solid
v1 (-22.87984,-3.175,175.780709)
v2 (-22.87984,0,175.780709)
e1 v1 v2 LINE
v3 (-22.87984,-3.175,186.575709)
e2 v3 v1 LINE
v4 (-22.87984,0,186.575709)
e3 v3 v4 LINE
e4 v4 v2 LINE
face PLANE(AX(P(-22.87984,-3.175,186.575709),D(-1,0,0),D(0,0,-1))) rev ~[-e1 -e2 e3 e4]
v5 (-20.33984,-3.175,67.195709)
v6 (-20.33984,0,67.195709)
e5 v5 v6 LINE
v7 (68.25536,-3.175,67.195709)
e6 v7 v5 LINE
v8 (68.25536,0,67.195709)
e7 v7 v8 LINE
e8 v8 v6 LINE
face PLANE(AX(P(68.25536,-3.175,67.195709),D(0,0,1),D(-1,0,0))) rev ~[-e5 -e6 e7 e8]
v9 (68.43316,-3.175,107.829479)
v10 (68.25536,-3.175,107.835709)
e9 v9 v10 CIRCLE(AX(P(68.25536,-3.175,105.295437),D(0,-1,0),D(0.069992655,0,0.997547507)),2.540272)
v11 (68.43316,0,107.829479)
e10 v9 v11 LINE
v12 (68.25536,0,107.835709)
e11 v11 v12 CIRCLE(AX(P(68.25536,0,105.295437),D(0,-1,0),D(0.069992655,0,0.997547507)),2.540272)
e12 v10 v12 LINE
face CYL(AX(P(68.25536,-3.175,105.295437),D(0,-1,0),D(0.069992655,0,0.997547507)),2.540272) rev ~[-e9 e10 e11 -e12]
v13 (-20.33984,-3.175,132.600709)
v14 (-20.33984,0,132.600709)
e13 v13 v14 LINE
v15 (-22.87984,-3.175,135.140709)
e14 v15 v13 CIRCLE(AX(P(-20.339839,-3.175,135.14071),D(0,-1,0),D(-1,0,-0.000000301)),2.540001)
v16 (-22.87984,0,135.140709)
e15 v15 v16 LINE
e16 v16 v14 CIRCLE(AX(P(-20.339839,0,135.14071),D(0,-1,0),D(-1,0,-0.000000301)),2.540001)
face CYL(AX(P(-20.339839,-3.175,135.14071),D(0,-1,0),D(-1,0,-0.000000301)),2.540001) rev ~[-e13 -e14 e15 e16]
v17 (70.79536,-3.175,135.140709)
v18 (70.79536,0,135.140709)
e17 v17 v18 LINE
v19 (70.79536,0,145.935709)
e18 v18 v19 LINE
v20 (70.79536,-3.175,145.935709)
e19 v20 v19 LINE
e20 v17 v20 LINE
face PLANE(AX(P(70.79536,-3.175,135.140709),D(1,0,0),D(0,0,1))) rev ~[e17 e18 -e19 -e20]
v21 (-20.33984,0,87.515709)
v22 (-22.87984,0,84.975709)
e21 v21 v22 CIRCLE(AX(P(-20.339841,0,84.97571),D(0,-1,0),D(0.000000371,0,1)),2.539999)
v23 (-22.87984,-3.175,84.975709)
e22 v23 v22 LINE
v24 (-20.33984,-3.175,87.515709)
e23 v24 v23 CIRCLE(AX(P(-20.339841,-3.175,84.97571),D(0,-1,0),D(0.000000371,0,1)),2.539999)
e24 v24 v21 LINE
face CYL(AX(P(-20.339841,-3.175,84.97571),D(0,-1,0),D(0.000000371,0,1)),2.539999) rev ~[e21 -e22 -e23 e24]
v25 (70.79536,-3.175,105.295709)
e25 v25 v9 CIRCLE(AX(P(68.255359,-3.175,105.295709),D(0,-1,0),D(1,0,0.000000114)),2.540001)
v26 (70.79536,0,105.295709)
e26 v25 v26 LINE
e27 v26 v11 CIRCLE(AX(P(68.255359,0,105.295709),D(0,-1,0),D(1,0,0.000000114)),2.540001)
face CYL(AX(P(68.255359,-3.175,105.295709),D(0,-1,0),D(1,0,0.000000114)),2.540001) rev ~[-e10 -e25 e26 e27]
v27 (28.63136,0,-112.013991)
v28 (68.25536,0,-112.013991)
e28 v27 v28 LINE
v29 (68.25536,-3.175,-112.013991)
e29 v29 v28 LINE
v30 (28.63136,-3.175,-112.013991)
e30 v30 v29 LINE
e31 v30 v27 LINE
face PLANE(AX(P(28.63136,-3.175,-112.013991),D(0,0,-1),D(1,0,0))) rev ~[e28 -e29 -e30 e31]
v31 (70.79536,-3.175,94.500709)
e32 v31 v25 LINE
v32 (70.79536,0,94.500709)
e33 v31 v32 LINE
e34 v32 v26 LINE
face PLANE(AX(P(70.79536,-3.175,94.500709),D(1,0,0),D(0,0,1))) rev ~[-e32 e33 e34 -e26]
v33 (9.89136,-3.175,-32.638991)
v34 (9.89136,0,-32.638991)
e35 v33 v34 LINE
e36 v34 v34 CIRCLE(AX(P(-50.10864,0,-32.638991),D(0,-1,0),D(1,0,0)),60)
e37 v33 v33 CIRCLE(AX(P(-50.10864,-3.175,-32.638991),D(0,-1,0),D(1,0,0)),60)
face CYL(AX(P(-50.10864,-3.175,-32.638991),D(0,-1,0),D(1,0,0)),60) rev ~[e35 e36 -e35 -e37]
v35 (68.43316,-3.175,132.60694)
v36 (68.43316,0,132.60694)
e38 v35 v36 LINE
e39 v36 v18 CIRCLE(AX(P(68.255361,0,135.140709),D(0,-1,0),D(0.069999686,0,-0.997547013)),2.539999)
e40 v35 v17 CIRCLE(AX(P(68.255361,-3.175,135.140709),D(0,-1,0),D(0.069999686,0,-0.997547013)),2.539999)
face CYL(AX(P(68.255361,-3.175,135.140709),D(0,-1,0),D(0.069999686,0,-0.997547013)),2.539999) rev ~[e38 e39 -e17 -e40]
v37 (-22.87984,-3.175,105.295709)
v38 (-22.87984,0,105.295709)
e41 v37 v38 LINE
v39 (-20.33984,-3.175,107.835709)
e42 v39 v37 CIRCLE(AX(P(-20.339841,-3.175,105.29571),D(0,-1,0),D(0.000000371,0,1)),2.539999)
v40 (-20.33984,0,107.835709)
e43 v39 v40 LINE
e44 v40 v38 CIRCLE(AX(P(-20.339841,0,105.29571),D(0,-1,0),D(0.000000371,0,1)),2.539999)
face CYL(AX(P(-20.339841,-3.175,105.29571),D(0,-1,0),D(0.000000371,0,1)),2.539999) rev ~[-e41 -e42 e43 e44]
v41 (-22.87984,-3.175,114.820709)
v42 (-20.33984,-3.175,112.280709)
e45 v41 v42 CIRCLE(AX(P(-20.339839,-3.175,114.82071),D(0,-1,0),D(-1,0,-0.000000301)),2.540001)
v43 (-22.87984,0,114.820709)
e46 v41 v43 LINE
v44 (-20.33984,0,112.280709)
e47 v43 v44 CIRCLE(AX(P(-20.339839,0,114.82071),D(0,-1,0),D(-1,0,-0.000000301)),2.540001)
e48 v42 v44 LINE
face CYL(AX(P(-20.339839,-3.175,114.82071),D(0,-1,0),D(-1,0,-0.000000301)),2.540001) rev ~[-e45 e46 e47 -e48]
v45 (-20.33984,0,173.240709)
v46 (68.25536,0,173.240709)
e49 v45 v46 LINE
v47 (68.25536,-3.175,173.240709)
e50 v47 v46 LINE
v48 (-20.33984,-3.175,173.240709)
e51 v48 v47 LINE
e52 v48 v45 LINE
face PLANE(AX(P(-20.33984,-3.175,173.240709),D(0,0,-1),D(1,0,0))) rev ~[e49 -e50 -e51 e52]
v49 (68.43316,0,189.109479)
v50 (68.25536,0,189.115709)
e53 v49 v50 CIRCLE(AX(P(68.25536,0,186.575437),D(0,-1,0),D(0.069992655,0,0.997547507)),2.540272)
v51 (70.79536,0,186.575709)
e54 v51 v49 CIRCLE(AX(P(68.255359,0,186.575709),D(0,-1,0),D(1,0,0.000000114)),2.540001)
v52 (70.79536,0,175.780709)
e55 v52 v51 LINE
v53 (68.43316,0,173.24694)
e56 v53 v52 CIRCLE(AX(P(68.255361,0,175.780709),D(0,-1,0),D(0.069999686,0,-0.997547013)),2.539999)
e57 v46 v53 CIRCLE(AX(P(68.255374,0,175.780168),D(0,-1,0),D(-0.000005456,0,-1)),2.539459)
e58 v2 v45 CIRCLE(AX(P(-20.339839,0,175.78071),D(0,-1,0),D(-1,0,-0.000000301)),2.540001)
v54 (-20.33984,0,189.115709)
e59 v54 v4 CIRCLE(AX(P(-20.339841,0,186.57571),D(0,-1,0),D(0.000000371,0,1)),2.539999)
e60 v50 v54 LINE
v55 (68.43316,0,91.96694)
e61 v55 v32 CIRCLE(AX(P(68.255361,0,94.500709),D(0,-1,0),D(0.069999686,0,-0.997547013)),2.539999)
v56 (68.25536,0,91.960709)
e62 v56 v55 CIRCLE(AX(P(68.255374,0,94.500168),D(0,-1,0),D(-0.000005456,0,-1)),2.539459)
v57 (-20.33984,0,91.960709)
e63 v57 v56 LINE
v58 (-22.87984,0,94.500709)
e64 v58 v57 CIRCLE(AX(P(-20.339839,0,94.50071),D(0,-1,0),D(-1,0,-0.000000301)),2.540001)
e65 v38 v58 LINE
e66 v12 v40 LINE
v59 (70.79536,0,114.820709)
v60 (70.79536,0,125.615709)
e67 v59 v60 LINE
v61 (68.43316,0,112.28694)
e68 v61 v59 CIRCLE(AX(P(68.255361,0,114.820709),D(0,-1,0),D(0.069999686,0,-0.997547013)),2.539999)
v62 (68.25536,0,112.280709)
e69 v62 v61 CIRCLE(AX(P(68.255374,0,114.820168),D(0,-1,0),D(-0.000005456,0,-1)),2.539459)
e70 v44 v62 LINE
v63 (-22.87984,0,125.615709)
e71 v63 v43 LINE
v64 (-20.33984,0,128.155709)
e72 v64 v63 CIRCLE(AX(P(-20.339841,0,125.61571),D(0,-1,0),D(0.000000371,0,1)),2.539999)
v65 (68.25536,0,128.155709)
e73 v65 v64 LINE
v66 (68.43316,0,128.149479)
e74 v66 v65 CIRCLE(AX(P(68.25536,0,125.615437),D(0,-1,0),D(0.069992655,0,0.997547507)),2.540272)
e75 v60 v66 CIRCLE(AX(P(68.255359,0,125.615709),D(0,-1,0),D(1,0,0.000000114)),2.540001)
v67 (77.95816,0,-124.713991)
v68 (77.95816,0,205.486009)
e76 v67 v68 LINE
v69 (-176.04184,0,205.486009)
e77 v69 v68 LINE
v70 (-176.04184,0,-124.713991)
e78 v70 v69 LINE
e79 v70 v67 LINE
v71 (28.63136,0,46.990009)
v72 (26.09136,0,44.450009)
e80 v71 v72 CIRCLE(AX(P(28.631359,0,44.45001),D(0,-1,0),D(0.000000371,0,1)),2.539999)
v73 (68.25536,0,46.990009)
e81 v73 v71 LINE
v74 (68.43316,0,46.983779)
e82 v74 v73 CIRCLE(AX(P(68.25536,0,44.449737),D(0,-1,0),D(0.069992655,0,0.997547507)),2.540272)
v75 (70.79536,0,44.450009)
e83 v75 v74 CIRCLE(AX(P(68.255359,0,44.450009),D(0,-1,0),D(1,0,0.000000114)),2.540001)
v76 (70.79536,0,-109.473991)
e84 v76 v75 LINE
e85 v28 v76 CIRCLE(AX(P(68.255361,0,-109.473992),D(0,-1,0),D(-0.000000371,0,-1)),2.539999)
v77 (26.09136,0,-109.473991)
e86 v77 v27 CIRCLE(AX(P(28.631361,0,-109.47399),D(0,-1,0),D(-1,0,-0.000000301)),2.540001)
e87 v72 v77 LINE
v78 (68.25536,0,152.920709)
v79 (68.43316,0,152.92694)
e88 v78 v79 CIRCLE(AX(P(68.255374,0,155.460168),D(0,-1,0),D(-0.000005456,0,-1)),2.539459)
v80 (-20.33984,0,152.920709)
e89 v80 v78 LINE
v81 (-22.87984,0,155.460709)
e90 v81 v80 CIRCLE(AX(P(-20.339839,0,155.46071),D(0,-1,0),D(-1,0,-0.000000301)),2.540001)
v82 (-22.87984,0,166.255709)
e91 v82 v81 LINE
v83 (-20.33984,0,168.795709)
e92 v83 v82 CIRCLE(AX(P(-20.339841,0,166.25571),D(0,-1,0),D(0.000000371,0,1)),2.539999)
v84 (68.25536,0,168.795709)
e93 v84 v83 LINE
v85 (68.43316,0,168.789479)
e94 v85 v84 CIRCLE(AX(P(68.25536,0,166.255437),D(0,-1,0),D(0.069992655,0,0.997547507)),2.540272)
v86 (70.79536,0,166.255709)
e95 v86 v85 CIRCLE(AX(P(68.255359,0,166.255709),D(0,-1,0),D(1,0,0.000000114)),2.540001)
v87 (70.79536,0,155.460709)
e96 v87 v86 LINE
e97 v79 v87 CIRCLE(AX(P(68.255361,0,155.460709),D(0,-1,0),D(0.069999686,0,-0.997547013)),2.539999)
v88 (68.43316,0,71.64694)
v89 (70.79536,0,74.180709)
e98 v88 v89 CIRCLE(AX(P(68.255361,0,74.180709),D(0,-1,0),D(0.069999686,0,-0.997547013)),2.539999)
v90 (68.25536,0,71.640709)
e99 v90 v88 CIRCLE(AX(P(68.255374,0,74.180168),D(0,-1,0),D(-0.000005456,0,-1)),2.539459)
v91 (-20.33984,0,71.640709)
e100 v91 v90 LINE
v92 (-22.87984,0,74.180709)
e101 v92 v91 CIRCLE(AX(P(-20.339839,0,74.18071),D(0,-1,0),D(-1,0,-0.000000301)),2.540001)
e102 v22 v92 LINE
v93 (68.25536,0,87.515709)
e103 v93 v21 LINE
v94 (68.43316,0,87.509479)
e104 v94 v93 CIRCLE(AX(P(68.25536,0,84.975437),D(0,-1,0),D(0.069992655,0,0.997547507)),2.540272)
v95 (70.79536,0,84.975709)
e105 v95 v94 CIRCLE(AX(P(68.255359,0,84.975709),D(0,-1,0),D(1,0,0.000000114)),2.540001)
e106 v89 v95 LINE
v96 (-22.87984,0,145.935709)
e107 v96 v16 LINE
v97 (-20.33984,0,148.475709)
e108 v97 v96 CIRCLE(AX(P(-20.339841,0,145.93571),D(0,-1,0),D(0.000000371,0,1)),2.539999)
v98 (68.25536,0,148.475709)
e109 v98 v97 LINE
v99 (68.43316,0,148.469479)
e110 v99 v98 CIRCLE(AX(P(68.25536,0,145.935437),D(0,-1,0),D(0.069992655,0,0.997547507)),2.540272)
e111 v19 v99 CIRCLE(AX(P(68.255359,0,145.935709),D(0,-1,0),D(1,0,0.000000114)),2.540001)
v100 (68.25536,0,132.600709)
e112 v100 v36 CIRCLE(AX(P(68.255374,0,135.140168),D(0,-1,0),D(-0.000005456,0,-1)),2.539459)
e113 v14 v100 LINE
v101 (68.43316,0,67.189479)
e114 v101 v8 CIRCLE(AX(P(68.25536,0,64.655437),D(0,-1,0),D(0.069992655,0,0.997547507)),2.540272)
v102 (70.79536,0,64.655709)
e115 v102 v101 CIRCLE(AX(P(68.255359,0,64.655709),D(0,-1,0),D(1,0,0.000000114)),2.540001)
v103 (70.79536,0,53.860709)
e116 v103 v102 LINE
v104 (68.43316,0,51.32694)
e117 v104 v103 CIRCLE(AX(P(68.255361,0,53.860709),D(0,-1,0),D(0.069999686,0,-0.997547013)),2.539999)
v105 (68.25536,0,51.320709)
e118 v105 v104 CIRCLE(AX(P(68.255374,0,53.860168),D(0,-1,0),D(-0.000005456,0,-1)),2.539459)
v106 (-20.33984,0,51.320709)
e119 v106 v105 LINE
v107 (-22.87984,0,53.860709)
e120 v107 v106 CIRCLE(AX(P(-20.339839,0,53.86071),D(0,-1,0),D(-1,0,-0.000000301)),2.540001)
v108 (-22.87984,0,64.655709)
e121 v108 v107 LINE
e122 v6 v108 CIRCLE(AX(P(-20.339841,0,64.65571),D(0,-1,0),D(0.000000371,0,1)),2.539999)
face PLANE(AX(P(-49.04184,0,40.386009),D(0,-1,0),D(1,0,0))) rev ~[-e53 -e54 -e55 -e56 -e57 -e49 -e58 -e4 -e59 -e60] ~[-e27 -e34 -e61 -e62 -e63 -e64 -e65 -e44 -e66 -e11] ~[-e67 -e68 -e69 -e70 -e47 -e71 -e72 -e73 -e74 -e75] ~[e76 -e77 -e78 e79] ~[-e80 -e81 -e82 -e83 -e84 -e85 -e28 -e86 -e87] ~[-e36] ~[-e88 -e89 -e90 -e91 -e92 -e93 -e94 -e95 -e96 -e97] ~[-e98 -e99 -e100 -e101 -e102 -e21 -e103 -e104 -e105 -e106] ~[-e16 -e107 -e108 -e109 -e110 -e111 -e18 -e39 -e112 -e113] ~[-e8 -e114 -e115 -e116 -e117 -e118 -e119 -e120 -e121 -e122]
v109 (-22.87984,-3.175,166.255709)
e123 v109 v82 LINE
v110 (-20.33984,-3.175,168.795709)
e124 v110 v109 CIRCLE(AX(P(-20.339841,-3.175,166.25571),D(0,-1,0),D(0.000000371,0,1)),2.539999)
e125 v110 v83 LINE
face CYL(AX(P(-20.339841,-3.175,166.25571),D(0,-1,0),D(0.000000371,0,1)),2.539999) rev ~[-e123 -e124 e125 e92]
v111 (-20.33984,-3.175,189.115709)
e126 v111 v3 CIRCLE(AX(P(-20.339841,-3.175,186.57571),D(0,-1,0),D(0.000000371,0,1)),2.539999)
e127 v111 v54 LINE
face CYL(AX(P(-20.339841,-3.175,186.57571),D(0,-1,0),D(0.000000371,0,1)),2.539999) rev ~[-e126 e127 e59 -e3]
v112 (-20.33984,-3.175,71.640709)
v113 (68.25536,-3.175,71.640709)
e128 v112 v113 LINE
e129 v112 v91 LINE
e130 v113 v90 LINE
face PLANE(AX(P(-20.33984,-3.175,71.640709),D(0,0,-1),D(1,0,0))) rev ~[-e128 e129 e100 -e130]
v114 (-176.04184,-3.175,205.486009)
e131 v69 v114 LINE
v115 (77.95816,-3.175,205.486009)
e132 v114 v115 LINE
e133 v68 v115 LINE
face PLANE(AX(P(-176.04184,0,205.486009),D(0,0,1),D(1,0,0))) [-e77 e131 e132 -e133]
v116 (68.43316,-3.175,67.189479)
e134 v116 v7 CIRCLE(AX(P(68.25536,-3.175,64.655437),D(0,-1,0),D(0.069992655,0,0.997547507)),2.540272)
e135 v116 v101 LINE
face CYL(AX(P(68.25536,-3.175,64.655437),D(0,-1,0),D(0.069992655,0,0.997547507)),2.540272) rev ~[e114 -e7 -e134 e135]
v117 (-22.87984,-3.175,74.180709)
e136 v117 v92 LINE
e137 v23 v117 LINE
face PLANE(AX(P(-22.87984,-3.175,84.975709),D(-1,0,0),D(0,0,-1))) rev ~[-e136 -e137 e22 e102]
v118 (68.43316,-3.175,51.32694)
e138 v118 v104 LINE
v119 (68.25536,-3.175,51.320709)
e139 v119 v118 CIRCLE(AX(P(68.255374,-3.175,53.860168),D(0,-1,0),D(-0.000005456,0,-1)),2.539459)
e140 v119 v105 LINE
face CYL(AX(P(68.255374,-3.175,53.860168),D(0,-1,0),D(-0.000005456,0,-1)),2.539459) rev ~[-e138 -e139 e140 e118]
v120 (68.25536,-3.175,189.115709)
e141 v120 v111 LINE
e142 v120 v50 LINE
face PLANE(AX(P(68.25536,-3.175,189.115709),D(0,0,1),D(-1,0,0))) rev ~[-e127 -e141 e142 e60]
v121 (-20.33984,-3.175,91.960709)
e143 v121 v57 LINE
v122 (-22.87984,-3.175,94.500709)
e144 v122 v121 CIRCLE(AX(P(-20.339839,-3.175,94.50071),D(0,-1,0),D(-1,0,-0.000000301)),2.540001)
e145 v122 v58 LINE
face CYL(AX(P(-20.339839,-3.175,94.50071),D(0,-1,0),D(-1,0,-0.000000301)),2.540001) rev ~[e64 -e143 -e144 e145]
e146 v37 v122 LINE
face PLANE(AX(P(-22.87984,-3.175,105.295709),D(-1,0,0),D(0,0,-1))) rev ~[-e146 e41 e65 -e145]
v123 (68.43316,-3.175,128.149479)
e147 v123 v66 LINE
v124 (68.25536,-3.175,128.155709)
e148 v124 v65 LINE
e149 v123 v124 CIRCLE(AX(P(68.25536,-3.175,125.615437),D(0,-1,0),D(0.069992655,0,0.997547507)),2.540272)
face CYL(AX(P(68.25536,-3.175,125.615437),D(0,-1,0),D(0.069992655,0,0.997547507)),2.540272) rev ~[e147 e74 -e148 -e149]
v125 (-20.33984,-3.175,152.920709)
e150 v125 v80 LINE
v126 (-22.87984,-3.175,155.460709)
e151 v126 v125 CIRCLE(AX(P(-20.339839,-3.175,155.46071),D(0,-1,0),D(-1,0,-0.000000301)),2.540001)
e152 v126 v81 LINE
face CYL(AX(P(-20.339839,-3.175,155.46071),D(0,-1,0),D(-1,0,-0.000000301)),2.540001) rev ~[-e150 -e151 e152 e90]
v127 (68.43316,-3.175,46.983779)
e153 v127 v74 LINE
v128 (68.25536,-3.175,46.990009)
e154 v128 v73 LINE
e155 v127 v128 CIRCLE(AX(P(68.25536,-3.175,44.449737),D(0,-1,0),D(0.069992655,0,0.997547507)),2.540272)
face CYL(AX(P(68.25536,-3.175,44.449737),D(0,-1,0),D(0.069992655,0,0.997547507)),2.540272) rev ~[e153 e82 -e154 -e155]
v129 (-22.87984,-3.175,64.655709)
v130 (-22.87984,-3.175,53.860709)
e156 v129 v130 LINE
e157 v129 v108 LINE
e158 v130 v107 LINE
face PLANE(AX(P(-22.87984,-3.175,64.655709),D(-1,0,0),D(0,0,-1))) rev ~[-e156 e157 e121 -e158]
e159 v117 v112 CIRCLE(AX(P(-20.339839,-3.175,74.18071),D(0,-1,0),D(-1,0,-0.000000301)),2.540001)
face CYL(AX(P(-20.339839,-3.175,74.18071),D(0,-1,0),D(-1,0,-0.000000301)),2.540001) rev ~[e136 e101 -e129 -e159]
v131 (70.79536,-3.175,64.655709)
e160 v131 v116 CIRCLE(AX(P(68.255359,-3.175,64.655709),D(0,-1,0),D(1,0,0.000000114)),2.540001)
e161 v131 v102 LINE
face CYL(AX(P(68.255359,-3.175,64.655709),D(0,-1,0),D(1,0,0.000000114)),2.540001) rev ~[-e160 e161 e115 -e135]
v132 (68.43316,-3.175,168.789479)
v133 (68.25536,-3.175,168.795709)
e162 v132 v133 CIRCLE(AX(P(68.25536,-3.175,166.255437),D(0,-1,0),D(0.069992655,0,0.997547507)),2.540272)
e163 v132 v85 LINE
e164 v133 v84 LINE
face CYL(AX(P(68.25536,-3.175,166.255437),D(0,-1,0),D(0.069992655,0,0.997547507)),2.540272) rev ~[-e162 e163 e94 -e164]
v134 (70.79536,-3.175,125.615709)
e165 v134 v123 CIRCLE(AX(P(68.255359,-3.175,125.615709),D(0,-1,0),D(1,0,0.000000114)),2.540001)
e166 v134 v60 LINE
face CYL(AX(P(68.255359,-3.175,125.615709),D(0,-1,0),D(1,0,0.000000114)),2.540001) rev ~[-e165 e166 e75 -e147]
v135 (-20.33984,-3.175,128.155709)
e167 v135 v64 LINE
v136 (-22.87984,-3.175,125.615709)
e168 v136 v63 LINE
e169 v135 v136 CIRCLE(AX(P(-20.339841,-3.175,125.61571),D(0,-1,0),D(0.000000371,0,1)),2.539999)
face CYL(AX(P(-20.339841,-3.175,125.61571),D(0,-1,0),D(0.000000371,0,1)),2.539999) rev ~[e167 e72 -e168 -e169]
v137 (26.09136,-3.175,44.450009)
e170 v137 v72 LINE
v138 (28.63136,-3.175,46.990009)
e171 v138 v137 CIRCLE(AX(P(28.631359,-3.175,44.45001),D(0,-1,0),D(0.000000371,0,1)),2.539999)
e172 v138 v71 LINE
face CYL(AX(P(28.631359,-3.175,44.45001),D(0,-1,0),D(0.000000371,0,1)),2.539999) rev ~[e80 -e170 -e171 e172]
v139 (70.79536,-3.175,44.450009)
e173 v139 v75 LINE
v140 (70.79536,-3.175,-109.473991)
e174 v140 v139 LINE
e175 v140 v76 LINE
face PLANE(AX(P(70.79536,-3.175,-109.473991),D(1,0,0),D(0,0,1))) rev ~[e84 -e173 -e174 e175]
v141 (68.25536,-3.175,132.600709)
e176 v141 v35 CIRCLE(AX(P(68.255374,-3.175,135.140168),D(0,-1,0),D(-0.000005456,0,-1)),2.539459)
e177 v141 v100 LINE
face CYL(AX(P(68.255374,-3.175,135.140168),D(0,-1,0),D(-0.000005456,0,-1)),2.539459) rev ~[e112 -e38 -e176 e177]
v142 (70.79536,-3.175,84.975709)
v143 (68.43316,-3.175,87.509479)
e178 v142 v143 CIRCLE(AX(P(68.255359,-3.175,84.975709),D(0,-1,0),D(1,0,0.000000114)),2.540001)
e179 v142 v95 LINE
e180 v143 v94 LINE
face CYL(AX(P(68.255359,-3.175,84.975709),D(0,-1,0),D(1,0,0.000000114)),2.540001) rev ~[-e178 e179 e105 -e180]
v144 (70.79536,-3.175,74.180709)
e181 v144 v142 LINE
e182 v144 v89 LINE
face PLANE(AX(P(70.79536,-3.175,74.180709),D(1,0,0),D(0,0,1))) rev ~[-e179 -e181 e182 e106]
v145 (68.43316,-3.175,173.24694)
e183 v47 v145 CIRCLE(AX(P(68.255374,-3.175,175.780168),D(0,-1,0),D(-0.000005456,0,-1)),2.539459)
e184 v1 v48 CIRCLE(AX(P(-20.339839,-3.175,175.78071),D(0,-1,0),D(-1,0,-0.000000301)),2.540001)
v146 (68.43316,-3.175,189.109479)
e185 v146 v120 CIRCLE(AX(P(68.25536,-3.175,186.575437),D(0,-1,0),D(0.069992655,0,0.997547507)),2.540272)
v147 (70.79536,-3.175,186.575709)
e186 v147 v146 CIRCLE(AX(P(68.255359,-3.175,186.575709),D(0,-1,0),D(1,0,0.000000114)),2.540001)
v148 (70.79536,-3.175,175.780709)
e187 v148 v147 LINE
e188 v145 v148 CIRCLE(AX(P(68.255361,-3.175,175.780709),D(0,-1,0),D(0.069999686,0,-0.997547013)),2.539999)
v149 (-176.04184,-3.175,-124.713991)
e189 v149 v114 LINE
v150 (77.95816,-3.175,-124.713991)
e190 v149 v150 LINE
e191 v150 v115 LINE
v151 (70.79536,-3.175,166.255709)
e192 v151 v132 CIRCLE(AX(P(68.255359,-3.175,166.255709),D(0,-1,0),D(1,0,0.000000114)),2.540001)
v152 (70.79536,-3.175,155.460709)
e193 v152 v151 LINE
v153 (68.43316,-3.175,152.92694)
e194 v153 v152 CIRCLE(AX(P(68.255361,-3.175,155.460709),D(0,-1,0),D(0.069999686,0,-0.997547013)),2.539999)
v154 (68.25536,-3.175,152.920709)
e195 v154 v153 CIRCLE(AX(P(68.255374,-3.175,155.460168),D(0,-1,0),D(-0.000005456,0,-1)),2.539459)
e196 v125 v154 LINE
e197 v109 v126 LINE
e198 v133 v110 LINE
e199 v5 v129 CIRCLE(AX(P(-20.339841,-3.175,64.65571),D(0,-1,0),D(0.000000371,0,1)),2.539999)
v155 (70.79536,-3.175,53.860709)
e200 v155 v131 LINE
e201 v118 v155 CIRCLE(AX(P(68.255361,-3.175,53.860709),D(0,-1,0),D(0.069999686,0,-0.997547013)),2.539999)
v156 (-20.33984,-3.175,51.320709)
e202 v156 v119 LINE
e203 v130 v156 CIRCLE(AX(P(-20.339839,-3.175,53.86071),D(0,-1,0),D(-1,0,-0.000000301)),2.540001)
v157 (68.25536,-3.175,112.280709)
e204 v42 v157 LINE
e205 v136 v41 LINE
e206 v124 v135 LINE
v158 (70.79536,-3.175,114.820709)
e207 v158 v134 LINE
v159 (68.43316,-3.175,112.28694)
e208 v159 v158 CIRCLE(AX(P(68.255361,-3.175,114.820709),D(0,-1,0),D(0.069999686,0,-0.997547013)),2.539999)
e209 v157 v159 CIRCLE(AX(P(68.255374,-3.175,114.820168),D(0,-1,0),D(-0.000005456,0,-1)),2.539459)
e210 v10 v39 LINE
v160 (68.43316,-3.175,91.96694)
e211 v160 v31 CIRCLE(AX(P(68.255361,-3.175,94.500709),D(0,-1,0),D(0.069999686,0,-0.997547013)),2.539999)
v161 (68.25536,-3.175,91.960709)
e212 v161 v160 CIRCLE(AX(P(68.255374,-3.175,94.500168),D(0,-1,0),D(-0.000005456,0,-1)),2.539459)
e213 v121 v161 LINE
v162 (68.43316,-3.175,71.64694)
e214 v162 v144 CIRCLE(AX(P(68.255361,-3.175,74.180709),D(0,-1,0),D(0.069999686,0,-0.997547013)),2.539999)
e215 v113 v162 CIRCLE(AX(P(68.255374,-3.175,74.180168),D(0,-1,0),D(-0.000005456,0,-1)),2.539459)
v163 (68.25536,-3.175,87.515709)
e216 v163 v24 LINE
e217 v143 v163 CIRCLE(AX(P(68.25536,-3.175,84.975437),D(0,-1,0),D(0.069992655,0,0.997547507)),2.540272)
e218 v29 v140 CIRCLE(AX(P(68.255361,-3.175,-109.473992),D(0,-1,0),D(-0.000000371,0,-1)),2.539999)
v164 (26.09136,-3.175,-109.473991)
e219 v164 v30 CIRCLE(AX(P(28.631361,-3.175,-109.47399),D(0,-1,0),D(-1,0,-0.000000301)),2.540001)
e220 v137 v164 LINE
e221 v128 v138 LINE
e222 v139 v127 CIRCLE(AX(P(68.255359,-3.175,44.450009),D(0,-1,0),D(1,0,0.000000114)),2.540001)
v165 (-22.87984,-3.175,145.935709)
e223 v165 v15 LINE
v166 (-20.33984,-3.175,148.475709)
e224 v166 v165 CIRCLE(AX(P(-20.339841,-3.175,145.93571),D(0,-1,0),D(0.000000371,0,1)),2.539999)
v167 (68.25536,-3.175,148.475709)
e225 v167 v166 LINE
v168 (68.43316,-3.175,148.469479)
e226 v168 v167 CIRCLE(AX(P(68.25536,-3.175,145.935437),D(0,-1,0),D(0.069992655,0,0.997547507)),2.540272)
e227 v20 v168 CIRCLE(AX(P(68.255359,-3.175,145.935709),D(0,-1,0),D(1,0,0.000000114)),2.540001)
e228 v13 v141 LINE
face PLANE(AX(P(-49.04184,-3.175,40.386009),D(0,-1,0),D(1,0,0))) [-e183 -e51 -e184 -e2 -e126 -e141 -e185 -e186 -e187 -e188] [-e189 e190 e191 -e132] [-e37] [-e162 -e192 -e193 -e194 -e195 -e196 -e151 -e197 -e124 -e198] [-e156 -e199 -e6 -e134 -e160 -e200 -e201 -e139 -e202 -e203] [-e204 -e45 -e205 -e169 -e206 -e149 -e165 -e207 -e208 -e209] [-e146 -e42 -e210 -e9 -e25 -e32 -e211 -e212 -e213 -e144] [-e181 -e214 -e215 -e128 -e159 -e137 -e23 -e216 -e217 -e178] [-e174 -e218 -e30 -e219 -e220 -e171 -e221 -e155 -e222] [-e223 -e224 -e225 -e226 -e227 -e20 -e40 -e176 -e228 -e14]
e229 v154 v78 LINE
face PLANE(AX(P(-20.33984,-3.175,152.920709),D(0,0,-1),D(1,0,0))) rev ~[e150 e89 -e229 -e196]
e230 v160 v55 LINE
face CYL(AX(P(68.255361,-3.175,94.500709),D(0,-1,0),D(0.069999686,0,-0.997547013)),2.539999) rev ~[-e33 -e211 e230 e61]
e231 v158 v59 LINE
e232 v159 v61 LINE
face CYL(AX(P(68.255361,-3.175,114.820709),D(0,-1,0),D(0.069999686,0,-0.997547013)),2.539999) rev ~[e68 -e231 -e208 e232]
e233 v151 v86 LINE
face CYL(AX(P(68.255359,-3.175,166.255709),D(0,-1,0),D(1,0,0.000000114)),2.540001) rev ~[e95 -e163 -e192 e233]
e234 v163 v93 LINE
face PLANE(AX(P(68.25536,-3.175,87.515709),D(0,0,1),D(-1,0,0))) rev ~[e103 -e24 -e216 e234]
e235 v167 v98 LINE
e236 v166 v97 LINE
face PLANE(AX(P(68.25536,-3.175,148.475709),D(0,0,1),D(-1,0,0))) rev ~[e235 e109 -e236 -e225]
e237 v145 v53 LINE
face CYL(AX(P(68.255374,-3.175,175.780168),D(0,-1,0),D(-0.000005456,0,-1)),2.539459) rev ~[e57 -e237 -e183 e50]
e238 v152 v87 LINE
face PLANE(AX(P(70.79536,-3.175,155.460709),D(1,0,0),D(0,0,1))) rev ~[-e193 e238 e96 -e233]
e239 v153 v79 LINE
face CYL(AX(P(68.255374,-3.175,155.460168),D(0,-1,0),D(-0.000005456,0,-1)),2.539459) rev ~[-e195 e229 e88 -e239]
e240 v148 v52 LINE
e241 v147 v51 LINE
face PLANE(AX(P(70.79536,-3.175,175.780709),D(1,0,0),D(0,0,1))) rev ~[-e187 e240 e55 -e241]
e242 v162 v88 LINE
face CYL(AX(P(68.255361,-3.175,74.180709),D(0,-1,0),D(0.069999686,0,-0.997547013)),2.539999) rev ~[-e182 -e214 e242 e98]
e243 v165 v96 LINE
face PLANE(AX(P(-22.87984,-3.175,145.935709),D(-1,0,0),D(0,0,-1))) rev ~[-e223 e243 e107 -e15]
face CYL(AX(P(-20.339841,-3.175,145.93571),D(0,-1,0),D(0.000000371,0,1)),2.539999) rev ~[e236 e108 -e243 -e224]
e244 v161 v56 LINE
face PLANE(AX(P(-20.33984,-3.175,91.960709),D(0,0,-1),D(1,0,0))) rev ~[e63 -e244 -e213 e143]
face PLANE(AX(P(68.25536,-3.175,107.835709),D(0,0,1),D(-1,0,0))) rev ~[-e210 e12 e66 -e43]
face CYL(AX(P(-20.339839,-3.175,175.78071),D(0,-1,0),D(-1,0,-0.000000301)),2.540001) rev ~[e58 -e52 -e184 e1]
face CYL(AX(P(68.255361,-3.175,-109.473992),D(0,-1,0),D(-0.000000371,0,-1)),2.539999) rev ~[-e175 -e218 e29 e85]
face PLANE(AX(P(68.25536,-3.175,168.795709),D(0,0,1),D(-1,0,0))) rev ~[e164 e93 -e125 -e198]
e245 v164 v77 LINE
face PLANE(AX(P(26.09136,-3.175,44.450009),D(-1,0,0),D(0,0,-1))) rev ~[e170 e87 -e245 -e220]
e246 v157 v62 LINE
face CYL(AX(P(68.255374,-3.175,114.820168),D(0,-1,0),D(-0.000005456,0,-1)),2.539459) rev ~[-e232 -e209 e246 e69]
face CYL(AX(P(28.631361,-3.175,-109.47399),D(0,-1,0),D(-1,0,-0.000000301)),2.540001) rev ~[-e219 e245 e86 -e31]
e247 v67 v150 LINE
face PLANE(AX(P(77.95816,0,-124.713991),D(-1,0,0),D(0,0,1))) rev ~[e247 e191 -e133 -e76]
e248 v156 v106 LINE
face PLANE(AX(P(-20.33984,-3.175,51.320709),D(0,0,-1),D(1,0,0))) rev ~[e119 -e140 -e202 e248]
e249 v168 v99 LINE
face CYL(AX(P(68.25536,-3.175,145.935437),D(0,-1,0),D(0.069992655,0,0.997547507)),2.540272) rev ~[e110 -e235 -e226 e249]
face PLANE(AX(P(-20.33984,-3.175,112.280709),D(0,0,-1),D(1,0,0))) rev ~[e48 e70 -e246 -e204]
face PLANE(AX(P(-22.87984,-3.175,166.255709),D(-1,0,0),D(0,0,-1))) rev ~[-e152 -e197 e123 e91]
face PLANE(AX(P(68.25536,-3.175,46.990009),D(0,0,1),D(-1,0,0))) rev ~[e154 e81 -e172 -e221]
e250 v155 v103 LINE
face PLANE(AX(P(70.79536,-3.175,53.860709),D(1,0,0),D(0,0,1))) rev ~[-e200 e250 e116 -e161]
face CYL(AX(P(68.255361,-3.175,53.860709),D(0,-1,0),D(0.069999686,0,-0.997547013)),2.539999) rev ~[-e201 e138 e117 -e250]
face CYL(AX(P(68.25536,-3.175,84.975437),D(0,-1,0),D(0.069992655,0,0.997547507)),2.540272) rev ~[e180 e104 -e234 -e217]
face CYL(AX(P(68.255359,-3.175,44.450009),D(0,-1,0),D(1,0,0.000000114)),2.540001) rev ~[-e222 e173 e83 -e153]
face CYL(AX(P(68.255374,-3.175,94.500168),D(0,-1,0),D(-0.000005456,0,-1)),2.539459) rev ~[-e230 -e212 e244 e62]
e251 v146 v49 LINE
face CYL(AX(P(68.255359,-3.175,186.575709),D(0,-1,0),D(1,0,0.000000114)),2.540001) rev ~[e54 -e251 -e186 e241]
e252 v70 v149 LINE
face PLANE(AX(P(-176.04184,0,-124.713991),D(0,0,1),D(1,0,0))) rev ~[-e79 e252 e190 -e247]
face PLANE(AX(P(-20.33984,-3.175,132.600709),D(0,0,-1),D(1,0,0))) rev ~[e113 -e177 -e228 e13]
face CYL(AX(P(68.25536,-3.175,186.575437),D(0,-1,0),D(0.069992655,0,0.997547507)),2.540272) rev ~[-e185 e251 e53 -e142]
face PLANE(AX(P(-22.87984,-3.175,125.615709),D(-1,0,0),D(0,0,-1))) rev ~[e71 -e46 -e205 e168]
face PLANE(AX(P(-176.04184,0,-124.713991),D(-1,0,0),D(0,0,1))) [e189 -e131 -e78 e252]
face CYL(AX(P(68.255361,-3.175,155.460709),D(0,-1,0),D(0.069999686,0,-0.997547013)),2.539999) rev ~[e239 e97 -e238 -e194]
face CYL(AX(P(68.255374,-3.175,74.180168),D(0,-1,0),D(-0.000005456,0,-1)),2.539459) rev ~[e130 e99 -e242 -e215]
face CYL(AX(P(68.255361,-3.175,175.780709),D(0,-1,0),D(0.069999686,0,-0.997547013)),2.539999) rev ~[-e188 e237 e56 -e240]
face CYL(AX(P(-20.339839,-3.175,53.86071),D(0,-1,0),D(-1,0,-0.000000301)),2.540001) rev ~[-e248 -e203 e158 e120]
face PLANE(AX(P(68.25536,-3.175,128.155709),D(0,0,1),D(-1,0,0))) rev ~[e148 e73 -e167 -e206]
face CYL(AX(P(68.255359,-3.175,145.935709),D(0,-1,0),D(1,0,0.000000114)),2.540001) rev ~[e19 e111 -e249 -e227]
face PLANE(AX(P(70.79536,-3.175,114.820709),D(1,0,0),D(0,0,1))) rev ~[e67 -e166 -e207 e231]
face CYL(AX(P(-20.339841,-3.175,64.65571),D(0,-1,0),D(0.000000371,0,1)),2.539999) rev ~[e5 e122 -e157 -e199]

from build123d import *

# Parameters (mm, degrees)
F0_W     = 254
F0_H     = 330.2
F1_DEPTH = 3.175
F3_DEPTH = 3.175
F4_R     = 60
F5_DEPTH = 3.175


with BuildPart() as f1:
    # F0 (on Front) → F1 (new body)
    with BuildSketch(Plane.XZ):
        with Locations((-49.04184, 40.386009)):
            Rectangle(F0_W, F0_H)
    extrude(amount=F1_DEPTH)

    # F2 (on face) → F3 (cut, through all)
    with BuildSketch(Plane.XZ.offset(3.175)):
        with BuildLine():
            ThreePointArc((68.25536, 173.240709), (68.344315, 173.242267), (68.43316, 173.24694))
            Line((68.43316, 173.24694), (68.43316, 189.109479))
            ThreePointArc((68.43316, 189.109479), (68.344315, 189.114151), (68.25536, 189.115709))
            Line((68.25536, 189.115709), (-20.33984, 189.115709))
            ThreePointArc((-20.33984, 189.115709), (-22.135891, 188.371761), (-22.87984, 186.575709))
            Line((-22.87984, 186.575709), (-22.87984, 175.780709))
            ThreePointArc((-22.87984, 175.780709), (-22.135891, 173.984658), (-20.33984, 173.240709))
            Line((-20.33984, 173.240709), (68.25536, 173.240709))
        make_face()
        with BuildLine():
            Line((68.43316, 189.109479), (68.43316, 173.24694))
            ThreePointArc((68.43316, 173.24694), (70.11321, 174.04866), (70.79536, 175.780709))
            Line((70.79536, 175.780709), (70.79536, 186.575709))
            ThreePointArc((70.79536, 186.575709), (70.11321, 188.307758), (68.43316, 189.109479))
        make_face()
        with BuildLine():
            ThreePointArc((68.25536, 152.920709), (68.344315, 152.922267), (68.43316, 152.92694))
            Line((68.43316, 152.92694), (68.43316, 168.789479))
            ThreePointArc((68.43316, 168.789479), (68.344315, 168.794151), (68.25536, 168.795709))
            Line((68.25536, 168.795709), (-20.33984, 168.795709))
            ThreePointArc((-20.33984, 168.795709), (-22.135891, 168.051761), (-22.87984, 166.255709))
            Line((-22.87984, 166.255709), (-22.87984, 155.460709))
            ThreePointArc((-22.87984, 155.460709), (-22.135891, 153.664658), (-20.33984, 152.920709))
            Line((-20.33984, 152.920709), (68.25536, 152.920709))
        make_face()
        with BuildLine():
            Line((68.43316, 168.789479), (68.43316, 152.92694))
            ThreePointArc((68.43316, 152.92694), (70.11321, 153.72866), (70.79536, 155.460709))
            Line((70.79536, 155.460709), (70.79536, 166.255709))
            ThreePointArc((70.79536, 166.255709), (70.11321, 167.987758), (68.43316, 168.789479))
        make_face()
        with BuildLine():
            ThreePointArc((68.25536, 132.600709), (68.344315, 132.602267), (68.43316, 132.60694))
            Line((68.43316, 132.60694), (68.43316, 148.469479))
            ThreePointArc((68.43316, 148.469479), (68.344315, 148.474151), (68.25536, 148.475709))
            Line((68.25536, 148.475709), (-20.33984, 148.475709))
            ThreePointArc((-20.33984, 148.475709), (-22.135891, 147.731761), (-22.87984, 145.935709))
            Line((-22.87984, 145.935709), (-22.87984, 135.140709))
            ThreePointArc((-22.87984, 135.140709), (-22.135891, 133.344658), (-20.33984, 132.600709))
            Line((-20.33984, 132.600709), (68.25536, 132.600709))
        make_face()
        with BuildLine():
            Line((68.43316, 148.469479), (68.43316, 132.60694))
            ThreePointArc((68.43316, 132.60694), (70.11321, 133.40866), (70.79536, 135.140709))
            Line((70.79536, 135.140709), (70.79536, 145.935709))
            ThreePointArc((70.79536, 145.935709), (70.11321, 147.667758), (68.43316, 148.469479))
        make_face()
        with BuildLine():
            ThreePointArc((68.25536, 112.280709), (68.344315, 112.282267), (68.43316, 112.28694))
            Line((68.43316, 112.28694), (68.43316, 128.149479))
            ThreePointArc((68.43316, 128.149479), (68.344315, 128.154151), (68.25536, 128.155709))
            Line((68.25536, 128.155709), (-20.33984, 128.155709))
            ThreePointArc((-20.33984, 128.155709), (-22.135891, 127.411761), (-22.87984, 125.615709))
            Line((-22.87984, 125.615709), (-22.87984, 114.820709))
            ThreePointArc((-22.87984, 114.820709), (-22.135891, 113.024658), (-20.33984, 112.280709))
            Line((-20.33984, 112.280709), (68.25536, 112.280709))
        make_face()
        with BuildLine():
            Line((68.43316, 128.149479), (68.43316, 112.28694))
            ThreePointArc((68.43316, 112.28694), (70.11321, 113.08866), (70.79536, 114.820709))
            Line((70.79536, 114.820709), (70.79536, 125.615709))
            ThreePointArc((70.79536, 125.615709), (70.11321, 127.347758), (68.43316, 128.149479))
        make_face()
        with BuildLine():
            ThreePointArc((68.25536, 91.960709), (68.344315, 91.962267), (68.43316, 91.96694))
            Line((68.43316, 91.96694), (68.43316, 107.829479))
            ThreePointArc((68.43316, 107.829479), (68.344315, 107.834151), (68.25536, 107.835709))
            Line((68.25536, 107.835709), (-20.33984, 107.835709))
            ThreePointArc((-20.33984, 107.835709), (-22.135891, 107.091761), (-22.87984, 105.295709))
            Line((-22.87984, 105.295709), (-22.87984, 94.500709))
            ThreePointArc((-22.87984, 94.500709), (-22.135891, 92.704658), (-20.33984, 91.960709))
            Line((-20.33984, 91.960709), (68.25536, 91.960709))
        make_face()
        with BuildLine():
            Line((68.43316, 107.829479), (68.43316, 91.96694))
            ThreePointArc((68.43316, 91.96694), (70.11321, 92.76866), (70.79536, 94.500709))
            Line((70.79536, 94.500709), (70.79536, 105.295709))
            ThreePointArc((70.79536, 105.295709), (70.11321, 107.027758), (68.43316, 107.829479))
        make_face()
        with BuildLine():
            ThreePointArc((68.25536, 71.640709), (68.344315, 71.642267), (68.43316, 71.64694))
            Line((68.43316, 71.64694), (68.43316, 87.509479))
            ThreePointArc((68.43316, 87.509479), (68.344315, 87.514151), (68.25536, 87.515709))
            Line((68.25536, 87.515709), (-20.33984, 87.515709))
            ThreePointArc((-20.33984, 87.515709), (-22.135891, 86.771761), (-22.87984, 84.975709))
            Line((-22.87984, 84.975709), (-22.87984, 74.180709))
            ThreePointArc((-22.87984, 74.180709), (-22.135891, 72.384658), (-20.33984, 71.640709))
            Line((-20.33984, 71.640709), (68.25536, 71.640709))
        make_face()
        with BuildLine():
            Line((68.43316, 87.509479), (68.43316, 71.64694))
            ThreePointArc((68.43316, 71.64694), (70.11321, 72.44866), (70.79536, 74.180709))
            Line((70.79536, 74.180709), (70.79536, 84.975709))
            ThreePointArc((70.79536, 84.975709), (70.11321, 86.707758), (68.43316, 87.509479))
        make_face()
        with BuildLine():
            ThreePointArc((68.25536, 51.320709), (68.344315, 51.322267), (68.43316, 51.32694))
            Line((68.43316, 51.32694), (68.43316, 67.189479))
            ThreePointArc((68.43316, 67.189479), (68.344315, 67.194151), (68.25536, 67.195709))
            Line((68.25536, 67.195709), (-20.33984, 67.195709))
            ThreePointArc((-20.33984, 67.195709), (-22.135891, 66.451761), (-22.87984, 64.655709))
            Line((-22.87984, 64.655709), (-22.87984, 53.860709))
            ThreePointArc((-22.87984, 53.860709), (-22.135891, 52.064658), (-20.33984, 51.320709))
            Line((-20.33984, 51.320709), (68.25536, 51.320709))
        make_face()
        with BuildLine():
            Line((68.43316, 67.189479), (68.43316, 51.32694))
            ThreePointArc((68.43316, 51.32694), (70.11321, 52.12866), (70.79536, 53.860709))
            Line((70.79536, 53.860709), (70.79536, 64.655709))
            ThreePointArc((70.79536, 64.655709), (70.11321, 66.387758), (68.43316, 67.189479))
        make_face()
        with BuildLine():
            Line((68.25536, 46.990009), (28.63136, 46.990009))
            ThreePointArc((28.63136, 46.990009), (26.835309, 46.246061), (26.09136, 44.450009))
            Line((26.09136, 44.450009), (26.09136, -109.473991))
            ThreePointArc((26.09136, -109.473991), (26.835309, -111.270042), (28.63136, -112.013991))
            Line((28.63136, -112.013991), (68.25536, -112.013991))
            ThreePointArc((68.25536, -112.013991), (70.051412, -111.270042), (70.79536, -109.473991))
            Line((70.79536, -109.473991), (70.79536, 44.450009))
            ThreePointArc((70.79536, 44.450009), (70.11321, 46.182058), (68.43316, 46.983779))
            ThreePointArc((68.43316, 46.983779), (68.344315, 46.988451), (68.25536, 46.990009))
        make_face()
    extrude(amount=-F3_DEPTH, mode=Mode.SUBTRACT)

    # F4 (on face) → F5 (cut, through all)
    with BuildSketch(Plane.XZ.offset(3.175)):
        with Locations((-50.10864, -32.638991)):
            Circle(F4_R)
    extrude(amount=-F5_DEPTH, mode=Mode.SUBTRACT)


solid = f1.part
